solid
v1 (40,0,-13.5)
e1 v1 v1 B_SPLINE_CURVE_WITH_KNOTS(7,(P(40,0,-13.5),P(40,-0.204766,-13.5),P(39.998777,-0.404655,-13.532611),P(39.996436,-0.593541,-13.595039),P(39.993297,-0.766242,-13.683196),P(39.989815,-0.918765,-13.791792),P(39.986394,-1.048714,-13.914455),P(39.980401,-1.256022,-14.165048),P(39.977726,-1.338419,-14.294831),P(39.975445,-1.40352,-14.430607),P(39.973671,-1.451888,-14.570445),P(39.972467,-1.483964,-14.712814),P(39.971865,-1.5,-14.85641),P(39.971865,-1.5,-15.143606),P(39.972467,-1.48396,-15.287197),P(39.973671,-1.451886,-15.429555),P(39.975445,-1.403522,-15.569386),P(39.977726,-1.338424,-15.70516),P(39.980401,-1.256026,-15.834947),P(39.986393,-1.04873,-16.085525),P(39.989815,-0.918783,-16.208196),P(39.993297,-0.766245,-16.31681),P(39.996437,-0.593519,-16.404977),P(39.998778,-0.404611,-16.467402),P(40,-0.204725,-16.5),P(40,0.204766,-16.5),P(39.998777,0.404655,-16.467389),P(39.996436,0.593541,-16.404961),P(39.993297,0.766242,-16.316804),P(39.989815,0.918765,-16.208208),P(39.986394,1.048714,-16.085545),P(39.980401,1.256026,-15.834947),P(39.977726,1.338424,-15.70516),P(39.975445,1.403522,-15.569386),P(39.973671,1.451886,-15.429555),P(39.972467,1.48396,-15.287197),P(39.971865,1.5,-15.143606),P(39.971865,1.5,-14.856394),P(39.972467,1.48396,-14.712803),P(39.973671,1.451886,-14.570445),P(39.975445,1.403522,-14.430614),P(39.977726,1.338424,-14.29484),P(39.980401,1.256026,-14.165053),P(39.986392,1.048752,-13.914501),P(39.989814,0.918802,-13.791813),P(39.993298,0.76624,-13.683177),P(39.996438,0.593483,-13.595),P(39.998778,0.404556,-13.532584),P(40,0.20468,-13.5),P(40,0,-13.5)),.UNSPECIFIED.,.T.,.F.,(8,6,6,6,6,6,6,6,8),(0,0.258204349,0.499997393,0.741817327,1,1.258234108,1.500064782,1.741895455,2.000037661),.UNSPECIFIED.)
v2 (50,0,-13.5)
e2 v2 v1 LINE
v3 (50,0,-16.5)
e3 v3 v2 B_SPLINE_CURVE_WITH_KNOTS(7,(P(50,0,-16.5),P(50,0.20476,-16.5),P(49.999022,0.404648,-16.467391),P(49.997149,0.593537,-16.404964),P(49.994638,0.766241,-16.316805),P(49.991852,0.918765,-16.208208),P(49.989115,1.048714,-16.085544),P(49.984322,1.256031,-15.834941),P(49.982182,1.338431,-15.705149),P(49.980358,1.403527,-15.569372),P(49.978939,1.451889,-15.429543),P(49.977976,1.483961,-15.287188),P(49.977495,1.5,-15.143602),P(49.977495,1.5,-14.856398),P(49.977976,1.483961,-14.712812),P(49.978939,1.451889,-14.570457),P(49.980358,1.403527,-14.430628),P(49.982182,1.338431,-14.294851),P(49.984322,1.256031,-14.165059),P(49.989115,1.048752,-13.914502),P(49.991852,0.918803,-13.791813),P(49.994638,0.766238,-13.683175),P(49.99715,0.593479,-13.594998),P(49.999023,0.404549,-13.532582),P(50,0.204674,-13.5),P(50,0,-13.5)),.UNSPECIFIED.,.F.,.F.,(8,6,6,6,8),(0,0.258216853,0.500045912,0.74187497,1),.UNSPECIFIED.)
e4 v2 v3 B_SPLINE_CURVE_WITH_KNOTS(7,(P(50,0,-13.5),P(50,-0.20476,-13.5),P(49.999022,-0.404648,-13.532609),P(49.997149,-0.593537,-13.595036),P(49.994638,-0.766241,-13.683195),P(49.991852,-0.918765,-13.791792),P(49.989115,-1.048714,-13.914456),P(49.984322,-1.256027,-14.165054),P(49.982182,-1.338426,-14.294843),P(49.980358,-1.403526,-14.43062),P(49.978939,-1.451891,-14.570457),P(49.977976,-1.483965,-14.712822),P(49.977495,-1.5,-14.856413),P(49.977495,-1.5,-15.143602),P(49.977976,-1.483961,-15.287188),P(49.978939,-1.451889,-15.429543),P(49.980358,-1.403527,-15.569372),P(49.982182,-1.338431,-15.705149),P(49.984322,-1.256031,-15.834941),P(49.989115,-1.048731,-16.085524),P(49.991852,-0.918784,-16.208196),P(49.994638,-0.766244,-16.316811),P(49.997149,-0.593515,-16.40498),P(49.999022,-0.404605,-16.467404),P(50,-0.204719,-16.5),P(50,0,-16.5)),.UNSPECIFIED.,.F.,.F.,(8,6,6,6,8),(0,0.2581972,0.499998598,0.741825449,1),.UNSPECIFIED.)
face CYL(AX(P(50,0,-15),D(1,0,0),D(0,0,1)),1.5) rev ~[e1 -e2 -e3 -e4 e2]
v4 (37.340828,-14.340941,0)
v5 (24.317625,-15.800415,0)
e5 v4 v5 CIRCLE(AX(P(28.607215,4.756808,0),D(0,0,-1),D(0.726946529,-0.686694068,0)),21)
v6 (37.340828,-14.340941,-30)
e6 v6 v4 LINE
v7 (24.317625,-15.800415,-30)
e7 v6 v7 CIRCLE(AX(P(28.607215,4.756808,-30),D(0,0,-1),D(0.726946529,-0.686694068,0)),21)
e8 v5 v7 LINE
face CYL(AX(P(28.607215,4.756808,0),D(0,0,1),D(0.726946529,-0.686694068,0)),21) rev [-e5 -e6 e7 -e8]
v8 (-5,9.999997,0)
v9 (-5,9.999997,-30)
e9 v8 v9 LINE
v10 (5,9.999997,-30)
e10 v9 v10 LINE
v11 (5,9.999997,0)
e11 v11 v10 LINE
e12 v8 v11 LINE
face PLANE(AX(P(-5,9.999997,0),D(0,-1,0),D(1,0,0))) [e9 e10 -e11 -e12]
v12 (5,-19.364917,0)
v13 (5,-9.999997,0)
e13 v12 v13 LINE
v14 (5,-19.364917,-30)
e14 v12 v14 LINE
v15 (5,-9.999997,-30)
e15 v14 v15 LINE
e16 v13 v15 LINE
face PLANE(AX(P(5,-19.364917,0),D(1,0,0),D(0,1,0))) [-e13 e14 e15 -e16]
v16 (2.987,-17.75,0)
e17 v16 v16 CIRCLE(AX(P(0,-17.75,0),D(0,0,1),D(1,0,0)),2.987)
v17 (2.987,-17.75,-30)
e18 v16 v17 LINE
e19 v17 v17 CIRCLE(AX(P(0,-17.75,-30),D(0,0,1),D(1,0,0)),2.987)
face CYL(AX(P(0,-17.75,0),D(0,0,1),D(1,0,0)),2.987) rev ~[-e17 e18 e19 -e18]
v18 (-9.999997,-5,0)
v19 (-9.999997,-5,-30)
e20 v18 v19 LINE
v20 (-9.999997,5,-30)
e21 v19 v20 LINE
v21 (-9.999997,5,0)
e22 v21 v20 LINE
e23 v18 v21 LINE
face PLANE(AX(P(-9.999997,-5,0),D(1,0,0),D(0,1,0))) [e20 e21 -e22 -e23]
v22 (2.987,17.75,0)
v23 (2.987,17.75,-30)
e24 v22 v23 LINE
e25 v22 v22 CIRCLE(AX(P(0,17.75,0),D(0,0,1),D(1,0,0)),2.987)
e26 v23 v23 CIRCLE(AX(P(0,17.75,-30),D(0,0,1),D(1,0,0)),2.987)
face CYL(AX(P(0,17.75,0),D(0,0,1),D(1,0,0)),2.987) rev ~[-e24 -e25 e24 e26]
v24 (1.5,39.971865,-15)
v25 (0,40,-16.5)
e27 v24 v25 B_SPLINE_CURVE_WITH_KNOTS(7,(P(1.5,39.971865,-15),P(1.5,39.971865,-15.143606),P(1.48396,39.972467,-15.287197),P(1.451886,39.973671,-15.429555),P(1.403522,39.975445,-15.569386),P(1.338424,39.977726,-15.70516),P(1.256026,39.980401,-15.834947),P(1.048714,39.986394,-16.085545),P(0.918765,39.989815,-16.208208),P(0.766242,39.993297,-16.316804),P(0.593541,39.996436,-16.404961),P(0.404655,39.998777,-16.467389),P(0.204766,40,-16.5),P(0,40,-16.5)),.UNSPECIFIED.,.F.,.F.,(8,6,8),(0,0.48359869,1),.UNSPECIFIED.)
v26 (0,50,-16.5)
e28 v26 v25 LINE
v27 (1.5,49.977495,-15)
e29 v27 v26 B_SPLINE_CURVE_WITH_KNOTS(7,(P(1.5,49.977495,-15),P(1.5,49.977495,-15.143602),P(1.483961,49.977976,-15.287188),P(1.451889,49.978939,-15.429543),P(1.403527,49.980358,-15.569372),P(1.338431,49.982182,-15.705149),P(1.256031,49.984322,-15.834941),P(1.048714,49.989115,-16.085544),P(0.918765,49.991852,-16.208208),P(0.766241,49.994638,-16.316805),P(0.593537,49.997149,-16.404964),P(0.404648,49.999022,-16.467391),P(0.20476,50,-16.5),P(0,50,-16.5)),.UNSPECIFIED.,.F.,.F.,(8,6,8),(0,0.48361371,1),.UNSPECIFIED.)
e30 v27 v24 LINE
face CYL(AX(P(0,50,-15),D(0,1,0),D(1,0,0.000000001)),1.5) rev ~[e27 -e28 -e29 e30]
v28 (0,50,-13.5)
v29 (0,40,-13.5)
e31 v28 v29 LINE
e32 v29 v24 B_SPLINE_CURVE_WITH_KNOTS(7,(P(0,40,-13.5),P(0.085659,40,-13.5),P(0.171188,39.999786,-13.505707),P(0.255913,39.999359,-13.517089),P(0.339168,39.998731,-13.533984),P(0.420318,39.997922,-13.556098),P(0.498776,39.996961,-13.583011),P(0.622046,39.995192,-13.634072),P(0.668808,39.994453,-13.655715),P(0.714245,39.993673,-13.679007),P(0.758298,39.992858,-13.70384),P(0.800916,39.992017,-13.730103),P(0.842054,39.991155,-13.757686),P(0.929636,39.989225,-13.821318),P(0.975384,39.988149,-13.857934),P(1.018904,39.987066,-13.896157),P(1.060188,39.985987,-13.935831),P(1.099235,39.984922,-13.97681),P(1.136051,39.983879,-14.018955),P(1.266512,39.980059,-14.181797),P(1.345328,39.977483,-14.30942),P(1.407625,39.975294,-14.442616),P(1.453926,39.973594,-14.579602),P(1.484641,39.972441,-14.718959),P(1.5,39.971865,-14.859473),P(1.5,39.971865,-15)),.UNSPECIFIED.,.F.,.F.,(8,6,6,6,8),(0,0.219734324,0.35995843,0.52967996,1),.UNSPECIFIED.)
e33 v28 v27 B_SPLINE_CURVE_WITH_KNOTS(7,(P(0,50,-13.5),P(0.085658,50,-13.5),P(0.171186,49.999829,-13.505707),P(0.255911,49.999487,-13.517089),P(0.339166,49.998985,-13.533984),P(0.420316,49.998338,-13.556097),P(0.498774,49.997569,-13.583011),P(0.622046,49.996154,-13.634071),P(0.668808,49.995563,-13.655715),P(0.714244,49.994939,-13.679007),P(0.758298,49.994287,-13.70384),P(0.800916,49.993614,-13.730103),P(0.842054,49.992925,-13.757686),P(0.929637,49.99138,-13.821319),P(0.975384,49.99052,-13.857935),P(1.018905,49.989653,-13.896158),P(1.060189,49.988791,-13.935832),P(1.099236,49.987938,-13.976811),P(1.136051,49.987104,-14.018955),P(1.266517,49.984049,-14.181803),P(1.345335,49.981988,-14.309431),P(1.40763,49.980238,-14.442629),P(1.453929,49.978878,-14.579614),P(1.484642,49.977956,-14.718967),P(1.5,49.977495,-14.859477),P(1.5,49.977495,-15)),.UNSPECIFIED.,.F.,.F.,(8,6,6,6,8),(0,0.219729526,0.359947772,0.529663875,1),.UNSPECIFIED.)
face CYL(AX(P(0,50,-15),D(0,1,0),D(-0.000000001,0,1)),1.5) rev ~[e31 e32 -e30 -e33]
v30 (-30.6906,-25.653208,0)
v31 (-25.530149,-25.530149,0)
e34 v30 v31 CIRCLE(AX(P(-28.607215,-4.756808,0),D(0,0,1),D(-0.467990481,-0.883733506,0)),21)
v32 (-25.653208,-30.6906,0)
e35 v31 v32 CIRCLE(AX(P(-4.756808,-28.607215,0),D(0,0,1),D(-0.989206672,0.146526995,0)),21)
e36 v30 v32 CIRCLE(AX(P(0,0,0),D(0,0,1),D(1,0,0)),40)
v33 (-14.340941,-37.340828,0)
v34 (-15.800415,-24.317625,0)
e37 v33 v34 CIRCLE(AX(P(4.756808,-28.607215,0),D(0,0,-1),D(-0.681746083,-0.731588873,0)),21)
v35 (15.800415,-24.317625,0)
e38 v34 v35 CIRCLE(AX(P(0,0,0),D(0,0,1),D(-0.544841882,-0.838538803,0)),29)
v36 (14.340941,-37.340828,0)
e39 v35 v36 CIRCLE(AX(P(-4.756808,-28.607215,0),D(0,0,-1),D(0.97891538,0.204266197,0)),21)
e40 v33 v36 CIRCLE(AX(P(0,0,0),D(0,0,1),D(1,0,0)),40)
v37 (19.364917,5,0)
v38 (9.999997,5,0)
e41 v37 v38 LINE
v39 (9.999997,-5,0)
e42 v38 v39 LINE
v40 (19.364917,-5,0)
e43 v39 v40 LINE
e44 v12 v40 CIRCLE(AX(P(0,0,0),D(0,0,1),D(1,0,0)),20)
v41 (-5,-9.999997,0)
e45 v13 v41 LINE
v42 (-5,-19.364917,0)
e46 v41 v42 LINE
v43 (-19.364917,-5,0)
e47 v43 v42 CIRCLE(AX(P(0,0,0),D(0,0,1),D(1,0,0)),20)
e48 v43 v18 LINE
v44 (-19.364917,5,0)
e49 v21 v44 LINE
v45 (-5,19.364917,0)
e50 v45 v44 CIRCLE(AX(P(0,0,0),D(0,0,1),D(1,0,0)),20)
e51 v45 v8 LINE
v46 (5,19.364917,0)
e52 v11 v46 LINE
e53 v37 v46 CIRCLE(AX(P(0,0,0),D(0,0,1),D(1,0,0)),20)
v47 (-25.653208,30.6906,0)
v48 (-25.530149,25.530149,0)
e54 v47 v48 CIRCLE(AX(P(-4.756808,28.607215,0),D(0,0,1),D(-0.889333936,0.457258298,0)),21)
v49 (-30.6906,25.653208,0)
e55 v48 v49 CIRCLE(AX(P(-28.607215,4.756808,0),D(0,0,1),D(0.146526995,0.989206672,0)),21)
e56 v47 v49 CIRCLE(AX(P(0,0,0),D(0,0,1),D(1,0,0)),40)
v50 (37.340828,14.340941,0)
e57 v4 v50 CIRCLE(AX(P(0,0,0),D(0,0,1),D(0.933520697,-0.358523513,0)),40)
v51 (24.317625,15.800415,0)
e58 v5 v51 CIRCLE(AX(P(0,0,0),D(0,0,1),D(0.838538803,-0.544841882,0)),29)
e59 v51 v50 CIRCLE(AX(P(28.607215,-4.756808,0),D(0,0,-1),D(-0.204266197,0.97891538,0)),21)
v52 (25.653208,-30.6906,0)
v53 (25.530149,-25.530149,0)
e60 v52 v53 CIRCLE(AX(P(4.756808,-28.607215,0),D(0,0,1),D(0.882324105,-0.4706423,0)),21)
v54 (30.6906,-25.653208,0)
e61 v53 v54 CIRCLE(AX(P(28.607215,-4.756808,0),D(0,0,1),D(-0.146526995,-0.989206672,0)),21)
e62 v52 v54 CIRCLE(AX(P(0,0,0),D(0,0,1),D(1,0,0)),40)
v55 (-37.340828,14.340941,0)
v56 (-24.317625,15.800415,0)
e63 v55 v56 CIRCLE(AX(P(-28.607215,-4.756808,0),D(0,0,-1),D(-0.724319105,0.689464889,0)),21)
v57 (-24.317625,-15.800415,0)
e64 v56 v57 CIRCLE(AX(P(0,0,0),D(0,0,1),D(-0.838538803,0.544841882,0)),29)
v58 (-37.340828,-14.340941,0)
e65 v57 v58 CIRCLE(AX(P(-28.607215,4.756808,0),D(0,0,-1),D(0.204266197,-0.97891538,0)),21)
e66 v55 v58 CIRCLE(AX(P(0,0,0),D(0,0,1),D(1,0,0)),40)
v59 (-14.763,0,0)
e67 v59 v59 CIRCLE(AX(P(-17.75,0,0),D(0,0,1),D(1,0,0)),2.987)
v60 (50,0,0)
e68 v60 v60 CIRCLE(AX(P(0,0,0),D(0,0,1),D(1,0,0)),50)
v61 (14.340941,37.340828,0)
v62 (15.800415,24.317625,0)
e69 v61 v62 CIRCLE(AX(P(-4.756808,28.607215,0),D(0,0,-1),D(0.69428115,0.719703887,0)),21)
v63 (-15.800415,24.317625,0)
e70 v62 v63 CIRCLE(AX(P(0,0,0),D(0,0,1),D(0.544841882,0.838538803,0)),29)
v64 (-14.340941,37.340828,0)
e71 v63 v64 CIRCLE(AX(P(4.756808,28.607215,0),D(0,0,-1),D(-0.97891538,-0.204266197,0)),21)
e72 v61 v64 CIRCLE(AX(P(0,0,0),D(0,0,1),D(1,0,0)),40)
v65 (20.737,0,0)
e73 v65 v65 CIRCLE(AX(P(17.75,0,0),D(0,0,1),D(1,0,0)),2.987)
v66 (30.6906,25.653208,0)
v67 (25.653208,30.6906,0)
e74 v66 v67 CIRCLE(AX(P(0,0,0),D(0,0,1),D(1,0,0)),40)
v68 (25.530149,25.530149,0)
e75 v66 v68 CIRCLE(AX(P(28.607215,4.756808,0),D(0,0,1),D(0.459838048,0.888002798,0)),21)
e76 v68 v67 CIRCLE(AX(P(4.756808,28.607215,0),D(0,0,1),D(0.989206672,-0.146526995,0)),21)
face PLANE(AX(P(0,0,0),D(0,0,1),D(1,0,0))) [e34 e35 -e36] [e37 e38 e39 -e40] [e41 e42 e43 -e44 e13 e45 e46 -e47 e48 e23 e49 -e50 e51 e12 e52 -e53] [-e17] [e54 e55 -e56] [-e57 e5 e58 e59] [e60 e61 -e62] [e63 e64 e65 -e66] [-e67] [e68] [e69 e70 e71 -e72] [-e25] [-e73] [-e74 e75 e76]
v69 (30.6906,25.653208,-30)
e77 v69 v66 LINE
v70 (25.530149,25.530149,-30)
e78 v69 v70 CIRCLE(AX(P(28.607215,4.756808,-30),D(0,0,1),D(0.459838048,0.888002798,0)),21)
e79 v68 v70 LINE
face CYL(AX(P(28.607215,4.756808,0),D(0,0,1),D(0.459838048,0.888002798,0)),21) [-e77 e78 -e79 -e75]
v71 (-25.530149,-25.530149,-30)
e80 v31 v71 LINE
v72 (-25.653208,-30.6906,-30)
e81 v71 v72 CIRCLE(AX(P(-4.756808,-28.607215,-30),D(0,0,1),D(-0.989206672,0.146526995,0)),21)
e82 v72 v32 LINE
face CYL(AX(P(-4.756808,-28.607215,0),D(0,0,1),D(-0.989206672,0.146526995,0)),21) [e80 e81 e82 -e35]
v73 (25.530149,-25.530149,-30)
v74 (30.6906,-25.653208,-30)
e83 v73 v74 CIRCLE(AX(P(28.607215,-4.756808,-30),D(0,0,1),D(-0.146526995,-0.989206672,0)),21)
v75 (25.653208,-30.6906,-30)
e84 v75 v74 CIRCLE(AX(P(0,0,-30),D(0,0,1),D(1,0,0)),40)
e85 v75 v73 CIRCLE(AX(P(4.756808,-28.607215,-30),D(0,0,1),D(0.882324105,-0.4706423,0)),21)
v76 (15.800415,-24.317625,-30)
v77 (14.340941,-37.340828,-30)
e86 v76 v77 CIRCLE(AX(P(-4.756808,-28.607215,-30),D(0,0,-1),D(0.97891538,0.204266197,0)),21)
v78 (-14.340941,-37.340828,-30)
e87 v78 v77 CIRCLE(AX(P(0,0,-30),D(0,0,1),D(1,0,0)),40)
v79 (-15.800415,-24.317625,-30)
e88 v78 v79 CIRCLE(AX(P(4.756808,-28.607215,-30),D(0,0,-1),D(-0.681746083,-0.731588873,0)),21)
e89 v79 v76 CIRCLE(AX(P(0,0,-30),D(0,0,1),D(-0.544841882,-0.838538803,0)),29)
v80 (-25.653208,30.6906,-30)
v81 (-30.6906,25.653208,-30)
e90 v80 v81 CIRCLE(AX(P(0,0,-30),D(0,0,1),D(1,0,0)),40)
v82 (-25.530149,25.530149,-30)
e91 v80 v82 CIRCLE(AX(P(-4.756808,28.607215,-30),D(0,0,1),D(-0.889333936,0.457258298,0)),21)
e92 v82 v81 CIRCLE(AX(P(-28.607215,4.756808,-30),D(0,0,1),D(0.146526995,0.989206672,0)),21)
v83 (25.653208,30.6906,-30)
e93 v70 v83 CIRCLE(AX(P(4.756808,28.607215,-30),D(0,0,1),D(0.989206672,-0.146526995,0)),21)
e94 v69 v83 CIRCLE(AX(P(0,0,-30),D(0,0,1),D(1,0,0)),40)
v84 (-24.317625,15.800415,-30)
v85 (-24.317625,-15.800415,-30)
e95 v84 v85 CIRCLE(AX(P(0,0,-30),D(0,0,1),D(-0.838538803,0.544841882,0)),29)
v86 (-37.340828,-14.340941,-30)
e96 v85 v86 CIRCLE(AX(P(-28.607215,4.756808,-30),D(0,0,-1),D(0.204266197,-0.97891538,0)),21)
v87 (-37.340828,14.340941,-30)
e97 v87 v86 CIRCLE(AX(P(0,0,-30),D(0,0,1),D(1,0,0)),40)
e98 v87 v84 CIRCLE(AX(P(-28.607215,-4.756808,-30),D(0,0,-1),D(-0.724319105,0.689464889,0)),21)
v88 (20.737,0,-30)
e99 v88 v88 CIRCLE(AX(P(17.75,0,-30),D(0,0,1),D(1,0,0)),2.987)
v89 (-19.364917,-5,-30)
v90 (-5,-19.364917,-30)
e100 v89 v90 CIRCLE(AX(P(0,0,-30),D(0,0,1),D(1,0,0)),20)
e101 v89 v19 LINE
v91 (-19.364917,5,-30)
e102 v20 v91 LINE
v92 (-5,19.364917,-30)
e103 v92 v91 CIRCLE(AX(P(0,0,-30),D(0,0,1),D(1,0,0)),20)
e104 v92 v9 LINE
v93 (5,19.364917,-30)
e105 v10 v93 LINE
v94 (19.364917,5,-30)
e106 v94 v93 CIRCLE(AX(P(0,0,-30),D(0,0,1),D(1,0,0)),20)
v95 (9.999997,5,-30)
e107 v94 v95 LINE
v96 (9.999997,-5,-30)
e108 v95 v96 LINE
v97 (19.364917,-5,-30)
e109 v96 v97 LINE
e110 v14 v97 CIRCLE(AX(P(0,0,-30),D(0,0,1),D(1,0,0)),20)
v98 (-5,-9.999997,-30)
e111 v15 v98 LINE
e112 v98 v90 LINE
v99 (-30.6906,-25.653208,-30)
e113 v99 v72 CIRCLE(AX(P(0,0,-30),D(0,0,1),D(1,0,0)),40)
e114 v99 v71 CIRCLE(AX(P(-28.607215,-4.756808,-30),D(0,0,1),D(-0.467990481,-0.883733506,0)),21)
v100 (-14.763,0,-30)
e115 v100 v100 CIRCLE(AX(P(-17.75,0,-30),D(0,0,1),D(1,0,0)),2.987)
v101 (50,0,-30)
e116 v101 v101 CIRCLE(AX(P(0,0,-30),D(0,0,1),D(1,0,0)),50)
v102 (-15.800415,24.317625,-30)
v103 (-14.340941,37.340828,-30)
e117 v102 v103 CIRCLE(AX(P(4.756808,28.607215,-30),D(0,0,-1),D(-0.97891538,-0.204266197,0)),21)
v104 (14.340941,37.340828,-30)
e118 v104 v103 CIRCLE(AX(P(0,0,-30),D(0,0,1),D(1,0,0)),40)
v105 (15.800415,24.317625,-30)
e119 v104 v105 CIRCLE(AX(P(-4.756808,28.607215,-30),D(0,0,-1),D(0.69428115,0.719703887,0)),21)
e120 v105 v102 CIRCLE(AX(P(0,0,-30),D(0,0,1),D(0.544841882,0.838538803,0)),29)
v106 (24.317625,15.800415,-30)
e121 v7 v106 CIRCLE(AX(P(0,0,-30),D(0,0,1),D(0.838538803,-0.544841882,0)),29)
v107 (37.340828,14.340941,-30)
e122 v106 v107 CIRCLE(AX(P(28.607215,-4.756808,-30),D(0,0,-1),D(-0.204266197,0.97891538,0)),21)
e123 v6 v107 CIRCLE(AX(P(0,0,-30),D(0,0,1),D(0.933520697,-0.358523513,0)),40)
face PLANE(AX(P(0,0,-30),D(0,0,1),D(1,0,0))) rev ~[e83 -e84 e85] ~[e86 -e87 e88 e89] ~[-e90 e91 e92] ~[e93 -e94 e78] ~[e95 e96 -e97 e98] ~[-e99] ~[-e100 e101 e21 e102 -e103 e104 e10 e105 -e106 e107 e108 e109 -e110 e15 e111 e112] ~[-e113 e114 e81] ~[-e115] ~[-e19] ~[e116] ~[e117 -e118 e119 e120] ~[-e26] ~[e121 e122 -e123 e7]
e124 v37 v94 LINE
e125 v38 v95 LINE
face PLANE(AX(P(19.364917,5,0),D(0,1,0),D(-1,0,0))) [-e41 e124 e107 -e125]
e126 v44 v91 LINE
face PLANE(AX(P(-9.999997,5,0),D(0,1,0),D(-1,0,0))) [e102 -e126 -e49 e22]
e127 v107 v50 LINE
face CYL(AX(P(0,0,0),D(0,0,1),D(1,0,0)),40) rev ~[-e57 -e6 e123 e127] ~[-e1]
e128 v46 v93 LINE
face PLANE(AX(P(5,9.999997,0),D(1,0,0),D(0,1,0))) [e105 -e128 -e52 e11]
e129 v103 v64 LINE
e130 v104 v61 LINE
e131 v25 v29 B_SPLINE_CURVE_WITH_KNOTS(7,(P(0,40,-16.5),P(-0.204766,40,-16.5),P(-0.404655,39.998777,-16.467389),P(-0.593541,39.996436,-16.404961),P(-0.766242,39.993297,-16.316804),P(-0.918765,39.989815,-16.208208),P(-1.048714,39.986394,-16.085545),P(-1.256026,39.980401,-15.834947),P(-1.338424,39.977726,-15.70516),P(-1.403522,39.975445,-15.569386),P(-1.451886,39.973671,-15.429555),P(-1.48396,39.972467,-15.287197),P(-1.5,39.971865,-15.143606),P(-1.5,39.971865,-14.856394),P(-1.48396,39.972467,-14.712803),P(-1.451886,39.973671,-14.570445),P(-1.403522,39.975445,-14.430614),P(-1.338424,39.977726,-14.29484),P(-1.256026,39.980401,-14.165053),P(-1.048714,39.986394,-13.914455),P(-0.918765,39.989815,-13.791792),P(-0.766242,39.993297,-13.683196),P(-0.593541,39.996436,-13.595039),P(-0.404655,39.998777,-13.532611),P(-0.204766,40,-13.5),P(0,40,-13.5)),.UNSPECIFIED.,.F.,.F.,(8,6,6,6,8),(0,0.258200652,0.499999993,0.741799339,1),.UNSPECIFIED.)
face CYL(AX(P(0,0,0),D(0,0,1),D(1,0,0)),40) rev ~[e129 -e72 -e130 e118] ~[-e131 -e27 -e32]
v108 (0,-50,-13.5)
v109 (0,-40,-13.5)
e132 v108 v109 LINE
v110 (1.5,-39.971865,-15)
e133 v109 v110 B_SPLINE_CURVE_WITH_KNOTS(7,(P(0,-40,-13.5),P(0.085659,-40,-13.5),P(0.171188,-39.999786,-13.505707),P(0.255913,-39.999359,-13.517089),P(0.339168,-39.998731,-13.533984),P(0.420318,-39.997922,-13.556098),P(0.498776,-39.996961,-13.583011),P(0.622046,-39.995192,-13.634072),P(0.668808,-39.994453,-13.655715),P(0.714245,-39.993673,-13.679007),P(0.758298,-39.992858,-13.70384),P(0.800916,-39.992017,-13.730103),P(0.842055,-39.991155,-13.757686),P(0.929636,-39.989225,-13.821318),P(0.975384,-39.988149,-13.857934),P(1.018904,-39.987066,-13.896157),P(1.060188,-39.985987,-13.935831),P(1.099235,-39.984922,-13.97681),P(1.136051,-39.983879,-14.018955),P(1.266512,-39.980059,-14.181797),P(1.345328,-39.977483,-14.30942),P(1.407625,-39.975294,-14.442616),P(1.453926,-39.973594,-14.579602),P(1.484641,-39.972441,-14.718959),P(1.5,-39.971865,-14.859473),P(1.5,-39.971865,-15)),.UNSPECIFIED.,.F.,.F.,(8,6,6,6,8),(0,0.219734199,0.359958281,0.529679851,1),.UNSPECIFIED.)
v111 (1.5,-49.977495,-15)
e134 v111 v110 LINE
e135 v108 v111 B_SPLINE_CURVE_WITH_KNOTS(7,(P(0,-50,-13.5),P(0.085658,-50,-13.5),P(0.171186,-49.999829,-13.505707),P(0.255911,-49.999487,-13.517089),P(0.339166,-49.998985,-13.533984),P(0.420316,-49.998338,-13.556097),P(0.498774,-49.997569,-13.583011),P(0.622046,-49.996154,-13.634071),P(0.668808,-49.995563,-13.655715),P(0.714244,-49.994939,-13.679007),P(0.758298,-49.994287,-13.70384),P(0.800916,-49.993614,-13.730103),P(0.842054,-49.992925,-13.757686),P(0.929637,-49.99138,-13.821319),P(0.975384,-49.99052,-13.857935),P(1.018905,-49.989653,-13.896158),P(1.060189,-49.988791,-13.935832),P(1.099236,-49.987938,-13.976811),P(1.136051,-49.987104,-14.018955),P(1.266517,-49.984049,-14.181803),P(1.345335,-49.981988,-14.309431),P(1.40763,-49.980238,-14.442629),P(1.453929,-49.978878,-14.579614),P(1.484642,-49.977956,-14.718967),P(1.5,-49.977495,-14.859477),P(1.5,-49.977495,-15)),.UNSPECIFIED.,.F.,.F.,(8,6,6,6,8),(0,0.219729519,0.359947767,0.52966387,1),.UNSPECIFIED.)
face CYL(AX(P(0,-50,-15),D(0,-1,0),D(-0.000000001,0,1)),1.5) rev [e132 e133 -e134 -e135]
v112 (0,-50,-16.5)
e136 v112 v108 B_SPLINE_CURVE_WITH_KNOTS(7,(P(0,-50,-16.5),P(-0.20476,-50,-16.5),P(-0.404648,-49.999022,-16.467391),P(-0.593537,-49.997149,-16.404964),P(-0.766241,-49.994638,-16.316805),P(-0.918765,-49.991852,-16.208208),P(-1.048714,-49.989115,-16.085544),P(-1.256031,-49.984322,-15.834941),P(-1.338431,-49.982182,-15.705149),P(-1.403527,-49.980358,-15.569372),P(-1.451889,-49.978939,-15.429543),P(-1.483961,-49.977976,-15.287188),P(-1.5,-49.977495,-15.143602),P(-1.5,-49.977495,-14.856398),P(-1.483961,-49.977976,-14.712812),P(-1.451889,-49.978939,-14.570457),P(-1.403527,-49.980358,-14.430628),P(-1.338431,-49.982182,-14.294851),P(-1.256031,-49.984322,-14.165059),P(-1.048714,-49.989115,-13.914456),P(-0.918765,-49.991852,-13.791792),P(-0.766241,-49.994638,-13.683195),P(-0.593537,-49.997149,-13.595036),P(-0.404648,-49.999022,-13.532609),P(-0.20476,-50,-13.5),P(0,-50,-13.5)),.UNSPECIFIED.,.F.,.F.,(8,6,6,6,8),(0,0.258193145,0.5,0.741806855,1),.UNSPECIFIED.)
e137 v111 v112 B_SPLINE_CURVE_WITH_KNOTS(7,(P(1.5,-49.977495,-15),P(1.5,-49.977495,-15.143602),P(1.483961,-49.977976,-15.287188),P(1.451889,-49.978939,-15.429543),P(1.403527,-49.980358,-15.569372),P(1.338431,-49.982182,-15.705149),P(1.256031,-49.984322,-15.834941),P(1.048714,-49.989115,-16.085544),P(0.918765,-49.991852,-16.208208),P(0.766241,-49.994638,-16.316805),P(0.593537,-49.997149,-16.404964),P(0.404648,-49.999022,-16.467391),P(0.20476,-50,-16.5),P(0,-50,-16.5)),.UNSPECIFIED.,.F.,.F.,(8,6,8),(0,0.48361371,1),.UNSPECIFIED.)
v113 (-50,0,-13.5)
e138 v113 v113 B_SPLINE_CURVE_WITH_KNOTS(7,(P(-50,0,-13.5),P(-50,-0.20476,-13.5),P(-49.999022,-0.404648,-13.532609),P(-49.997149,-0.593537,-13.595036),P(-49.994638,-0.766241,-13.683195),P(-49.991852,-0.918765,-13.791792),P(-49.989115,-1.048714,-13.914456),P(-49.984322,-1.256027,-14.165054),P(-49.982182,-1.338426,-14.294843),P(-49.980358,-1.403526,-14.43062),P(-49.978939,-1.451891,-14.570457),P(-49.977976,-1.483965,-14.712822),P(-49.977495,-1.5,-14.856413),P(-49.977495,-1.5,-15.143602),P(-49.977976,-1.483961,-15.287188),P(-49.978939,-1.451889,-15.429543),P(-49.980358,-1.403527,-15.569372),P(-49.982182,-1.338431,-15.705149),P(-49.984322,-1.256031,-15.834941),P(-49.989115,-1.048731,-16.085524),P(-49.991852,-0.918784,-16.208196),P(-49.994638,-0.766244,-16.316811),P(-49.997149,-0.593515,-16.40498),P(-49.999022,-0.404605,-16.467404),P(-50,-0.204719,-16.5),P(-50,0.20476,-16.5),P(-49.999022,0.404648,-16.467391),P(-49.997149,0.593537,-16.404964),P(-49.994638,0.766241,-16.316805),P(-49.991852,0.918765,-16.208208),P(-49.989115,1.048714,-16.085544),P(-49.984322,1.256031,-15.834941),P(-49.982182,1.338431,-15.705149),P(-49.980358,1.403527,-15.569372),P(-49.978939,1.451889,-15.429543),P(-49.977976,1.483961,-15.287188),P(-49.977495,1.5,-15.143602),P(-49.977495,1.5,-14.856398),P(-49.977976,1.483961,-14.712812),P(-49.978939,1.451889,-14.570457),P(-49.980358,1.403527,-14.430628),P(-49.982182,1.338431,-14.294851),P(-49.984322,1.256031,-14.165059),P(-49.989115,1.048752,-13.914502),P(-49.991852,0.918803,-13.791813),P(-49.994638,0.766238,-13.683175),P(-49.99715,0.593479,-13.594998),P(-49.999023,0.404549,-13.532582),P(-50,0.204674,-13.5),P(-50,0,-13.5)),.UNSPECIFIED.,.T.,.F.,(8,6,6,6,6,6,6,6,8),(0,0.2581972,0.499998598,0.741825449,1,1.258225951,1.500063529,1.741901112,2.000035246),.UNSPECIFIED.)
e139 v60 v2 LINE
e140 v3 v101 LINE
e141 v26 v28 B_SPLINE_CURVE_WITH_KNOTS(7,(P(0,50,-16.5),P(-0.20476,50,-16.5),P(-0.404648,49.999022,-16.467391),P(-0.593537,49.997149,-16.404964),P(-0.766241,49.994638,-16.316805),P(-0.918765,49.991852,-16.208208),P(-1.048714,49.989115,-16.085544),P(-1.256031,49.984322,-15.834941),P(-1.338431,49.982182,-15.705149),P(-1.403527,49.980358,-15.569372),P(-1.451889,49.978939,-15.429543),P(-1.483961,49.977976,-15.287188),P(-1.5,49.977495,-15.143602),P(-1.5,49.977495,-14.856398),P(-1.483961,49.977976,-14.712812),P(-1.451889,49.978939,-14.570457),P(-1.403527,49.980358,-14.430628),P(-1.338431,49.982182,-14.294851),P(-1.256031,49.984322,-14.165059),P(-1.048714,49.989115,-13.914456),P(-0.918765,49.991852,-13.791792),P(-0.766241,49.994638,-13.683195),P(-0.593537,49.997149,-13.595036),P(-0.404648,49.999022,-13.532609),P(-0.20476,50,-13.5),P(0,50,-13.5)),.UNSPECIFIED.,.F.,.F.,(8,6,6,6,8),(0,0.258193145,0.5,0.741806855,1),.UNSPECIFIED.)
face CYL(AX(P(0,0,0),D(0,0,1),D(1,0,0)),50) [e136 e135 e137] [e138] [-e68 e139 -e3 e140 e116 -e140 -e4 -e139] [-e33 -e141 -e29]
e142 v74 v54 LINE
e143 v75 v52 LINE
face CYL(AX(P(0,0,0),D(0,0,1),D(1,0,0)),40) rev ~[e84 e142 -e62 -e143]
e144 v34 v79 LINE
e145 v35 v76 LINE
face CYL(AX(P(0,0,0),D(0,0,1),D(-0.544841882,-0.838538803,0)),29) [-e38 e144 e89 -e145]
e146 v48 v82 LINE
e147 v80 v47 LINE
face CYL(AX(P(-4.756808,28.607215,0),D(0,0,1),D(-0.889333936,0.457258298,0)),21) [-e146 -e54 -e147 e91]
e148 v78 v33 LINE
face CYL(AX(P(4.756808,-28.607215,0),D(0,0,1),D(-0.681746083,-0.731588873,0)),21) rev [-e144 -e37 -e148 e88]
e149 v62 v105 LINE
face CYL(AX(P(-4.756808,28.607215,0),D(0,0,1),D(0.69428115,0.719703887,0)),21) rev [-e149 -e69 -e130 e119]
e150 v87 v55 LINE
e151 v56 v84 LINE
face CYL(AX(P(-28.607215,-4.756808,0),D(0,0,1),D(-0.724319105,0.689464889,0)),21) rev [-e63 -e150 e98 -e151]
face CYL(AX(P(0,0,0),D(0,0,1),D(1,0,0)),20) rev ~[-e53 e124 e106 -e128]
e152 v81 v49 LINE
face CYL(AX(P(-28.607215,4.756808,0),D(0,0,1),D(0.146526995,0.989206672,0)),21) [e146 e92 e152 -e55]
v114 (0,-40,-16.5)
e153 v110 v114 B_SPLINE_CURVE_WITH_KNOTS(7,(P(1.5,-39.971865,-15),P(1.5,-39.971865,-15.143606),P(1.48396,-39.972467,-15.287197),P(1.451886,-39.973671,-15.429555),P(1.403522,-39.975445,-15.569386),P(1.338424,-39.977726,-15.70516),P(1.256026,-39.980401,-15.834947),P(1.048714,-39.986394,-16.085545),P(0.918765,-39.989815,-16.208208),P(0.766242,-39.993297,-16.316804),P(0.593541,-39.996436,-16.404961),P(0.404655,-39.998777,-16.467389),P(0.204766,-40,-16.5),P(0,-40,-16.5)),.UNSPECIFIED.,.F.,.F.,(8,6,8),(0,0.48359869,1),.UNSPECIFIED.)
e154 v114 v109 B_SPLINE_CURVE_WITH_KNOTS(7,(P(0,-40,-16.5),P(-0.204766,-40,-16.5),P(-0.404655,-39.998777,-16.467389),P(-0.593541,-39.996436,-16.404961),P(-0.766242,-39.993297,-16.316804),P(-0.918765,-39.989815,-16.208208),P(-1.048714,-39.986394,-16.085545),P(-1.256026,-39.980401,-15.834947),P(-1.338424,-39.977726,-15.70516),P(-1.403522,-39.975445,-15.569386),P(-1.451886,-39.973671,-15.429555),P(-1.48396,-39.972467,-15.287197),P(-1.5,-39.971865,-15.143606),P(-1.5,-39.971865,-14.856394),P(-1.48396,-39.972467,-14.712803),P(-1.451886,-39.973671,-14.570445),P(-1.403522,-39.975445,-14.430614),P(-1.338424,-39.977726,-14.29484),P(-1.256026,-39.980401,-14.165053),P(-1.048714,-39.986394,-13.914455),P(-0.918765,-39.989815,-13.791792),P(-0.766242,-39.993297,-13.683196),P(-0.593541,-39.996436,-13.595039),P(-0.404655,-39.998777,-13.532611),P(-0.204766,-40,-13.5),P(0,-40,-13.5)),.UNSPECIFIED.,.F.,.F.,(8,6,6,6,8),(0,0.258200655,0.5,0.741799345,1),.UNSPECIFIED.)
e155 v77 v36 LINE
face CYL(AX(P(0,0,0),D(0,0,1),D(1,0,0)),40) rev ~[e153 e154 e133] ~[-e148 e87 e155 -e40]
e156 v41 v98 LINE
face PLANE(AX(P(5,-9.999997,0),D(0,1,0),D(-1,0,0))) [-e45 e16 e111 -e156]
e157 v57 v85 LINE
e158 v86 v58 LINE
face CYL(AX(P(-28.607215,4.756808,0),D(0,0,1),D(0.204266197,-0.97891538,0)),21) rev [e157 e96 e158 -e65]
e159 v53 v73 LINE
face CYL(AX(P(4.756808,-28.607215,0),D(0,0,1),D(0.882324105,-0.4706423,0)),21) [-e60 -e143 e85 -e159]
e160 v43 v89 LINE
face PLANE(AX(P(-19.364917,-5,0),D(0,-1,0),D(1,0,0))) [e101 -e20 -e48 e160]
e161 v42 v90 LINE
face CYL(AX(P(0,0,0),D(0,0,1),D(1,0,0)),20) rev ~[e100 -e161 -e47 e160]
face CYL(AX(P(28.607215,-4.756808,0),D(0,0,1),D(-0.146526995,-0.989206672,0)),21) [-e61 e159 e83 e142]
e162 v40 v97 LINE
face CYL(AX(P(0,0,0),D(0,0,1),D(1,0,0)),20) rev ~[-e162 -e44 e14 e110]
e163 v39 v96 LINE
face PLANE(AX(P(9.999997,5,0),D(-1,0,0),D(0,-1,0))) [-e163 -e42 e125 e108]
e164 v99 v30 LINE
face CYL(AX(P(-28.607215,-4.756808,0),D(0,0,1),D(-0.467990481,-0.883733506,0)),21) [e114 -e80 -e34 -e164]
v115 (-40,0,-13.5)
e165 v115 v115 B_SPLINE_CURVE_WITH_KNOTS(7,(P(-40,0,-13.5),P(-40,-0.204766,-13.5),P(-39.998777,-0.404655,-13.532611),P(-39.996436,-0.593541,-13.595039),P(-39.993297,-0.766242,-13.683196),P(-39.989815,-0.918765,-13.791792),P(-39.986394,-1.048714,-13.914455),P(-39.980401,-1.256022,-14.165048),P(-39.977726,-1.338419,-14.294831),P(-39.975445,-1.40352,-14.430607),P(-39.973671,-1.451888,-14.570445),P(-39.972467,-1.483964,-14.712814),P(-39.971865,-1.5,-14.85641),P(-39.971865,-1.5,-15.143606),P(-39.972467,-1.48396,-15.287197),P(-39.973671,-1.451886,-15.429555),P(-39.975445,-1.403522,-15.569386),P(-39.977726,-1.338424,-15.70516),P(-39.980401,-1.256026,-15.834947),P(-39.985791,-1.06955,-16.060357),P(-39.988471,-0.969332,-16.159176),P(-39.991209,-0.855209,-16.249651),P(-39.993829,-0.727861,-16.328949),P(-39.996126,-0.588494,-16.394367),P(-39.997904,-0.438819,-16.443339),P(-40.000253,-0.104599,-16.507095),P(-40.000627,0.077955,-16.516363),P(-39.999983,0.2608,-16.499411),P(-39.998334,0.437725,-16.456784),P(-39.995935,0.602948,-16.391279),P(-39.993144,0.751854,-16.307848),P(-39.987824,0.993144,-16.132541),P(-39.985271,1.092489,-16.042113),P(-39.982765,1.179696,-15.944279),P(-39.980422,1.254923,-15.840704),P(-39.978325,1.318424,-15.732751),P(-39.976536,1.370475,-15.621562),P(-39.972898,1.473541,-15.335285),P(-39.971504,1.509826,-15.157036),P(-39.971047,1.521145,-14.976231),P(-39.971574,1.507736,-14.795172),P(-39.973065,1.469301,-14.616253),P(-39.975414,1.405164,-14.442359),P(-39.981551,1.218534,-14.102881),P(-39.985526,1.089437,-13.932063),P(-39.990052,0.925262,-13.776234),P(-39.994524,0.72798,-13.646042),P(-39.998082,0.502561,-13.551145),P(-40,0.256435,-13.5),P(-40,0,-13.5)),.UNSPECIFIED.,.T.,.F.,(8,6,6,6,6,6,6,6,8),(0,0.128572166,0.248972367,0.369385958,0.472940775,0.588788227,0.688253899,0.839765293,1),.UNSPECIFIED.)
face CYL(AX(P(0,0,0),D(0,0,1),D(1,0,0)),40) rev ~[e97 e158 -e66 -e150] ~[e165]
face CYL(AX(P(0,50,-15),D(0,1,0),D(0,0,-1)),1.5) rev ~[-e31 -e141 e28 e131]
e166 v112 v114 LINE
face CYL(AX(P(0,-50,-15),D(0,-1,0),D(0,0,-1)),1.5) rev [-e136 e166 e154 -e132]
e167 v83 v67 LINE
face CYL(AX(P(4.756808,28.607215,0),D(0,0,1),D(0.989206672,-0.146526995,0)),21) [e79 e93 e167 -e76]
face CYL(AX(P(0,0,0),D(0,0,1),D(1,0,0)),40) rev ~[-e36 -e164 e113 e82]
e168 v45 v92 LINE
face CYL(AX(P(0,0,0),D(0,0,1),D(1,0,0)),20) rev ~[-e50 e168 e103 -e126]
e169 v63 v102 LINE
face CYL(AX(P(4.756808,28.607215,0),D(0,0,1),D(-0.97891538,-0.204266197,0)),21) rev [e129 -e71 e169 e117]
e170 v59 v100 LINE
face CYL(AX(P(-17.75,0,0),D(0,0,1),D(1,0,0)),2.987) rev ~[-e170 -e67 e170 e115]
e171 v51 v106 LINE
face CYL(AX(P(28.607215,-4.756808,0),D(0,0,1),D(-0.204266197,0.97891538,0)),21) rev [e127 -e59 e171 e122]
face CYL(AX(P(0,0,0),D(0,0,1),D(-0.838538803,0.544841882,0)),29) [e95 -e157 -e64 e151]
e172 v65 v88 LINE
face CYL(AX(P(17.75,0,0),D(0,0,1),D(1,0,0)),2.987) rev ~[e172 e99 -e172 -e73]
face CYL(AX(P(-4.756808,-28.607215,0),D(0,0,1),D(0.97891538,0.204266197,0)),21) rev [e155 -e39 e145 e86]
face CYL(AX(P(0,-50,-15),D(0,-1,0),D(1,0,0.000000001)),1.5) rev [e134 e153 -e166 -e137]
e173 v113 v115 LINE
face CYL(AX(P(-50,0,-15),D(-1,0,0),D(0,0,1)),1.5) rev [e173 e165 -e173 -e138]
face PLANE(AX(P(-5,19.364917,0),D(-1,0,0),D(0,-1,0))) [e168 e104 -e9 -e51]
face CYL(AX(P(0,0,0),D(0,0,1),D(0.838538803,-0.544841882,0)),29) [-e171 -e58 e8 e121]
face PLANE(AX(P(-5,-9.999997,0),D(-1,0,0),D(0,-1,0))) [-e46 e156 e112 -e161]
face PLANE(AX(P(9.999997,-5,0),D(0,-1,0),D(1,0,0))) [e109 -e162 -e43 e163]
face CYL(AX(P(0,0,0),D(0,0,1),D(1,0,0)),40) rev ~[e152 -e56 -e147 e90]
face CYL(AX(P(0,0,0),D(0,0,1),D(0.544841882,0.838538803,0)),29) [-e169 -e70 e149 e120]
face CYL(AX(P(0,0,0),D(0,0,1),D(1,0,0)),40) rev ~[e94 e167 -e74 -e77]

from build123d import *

# Parameters (mm, degrees)
SKETCH6_R                        = 29
SKETCH6_R_2                      = 20
INNER_RING_DEPTH                 = 30
MOTOR_CONNECTOR_CUT_DEPTH        = 30
SKETCH9_R                        = 50
SKETCH9_R_2                      = 29
OUTSIDE_RING_EXTRUSION_DEPTH     = 30
SKETCH12_R                       = 45
SKETCH12_R_2                     = 27.5
CUT_EXTRUDE6_DEPTH               = 38
CUT_EXTRUDE6_DEPTH_BACK          = 56
SKETCH8_R                        = 2.987
MOTOR_CONNECTOR_HOLES_DEPTH      = 27
MOTOR_CONNECTOR_HOLES_DEPTH_BACK = 41
SKETCH10_R                       = 27.404299948
PATTERN_DEPTH                    = 30
SKETCH13_R                       = 45
SKETCH13_R_2                     = 40
BOSS_EXTRUDE1_DEPTH              = 30
CUT_EXTRUDE7_DEPTH               = 13
CUT_EXTRUDE8_DEPTH               = 15
CUT_EXTRUDE9_DEPTH               = 17
CUT_EXTRUDE10_DEPTH              = 17


with BuildPart() as part:
    # Sketch6 → Inner Ring (new body)
    with BuildSketch(Plane.XY):
        Circle(SKETCH6_R)
        Circle(SKETCH6_R_2, mode=Mode.SUBTRACT)
    extrude(amount=-INNER_RING_DEPTH)

    # Sketch7 → Motor Connector Cut (add)
    with BuildSketch(Plane.XY):
        with BuildLine():
            ThreePointArc((20, 0), (19.840593925, 2.52008585), (19.364916731, 5))
            Line((19.364916731, 5), (9.999996731, 5))
            Line((9.999996731, 5), (9.999996731, -5))
            Line((9.999996731, -5), (19.364916731, -5))
            ThreePointArc((19.364916731, -5), (19.840593925, -2.52008585), (20, 0))
        make_face()
        with BuildLine():
            ThreePointArc((5, 19.364916731), (0, 20), (-5, 19.364916731))
            Line((-5, 19.364916731), (-5, 9.999996731))
            Line((-5, 9.999996731), (5, 9.999996731))
            Line((5, 9.999996731), (5, 19.364916731))
        make_face()
        with BuildLine():
            Line((-9.999996731, -5), (-9.999996731, 5))
            Line((-9.999996731, 5), (-19.364916731, 5))
            ThreePointArc((-19.364916731, 5), (-20, 0), (-19.364916731, -5))
            Line((-19.364916731, -5), (-9.999996731, -5))
        make_face()
        with BuildLine():
            Line((-5, -9.999996731), (-5, -19.364916731))
            ThreePointArc((-5, -19.364916731), (0, -20), (5, -19.364916731))
            Line((5, -19.364916731), (5, -9.999996731))
            Line((5, -9.999996731), (-5, -9.999996731))
        make_face()
    extrude(amount=-MOTOR_CONNECTOR_CUT_DEPTH)

    # Sketch9 → Outside Ring Extrusion (add)
    with BuildSketch(Plane.XY):
        Circle(SKETCH9_R)
        Circle(SKETCH9_R_2, mode=Mode.SUBTRACT)
    extrude(amount=-OUTSIDE_RING_EXTRUSION_DEPTH)

    # Sketch12 → Cut-Extrude6 (cut, two sides)
    with BuildSketch(Plane.XY) as cut_extrude6_sk:
        Circle(SKETCH12_R)
        Circle(SKETCH12_R_2, mode=Mode.SUBTRACT)
    extrude(amount=CUT_EXTRUDE6_DEPTH, mode=Mode.SUBTRACT)
    extrude(cut_extrude6_sk.sketch, amount=-CUT_EXTRUDE6_DEPTH_BACK, mode=Mode.SUBTRACT)

    # Sketch8 → Motor Connector Holes (cut, two sides)
    with BuildSketch(Plane.XY) as motor_connector_holes_sk:
        with Locations((0, 17.75)):
            Circle(SKETCH8_R)
        with Locations((17.75, 0)):
            Circle(SKETCH8_R)
        with Locations((0, -17.75)):
            Circle(SKETCH8_R)
        with Locations((-17.75, 0)):
            Circle(SKETCH8_R)
    extrude(amount=MOTOR_CONNECTOR_HOLES_DEPTH, mode=Mode.SUBTRACT)
    extrude(motor_connector_holes_sk.sketch, amount=-MOTOR_CONNECTOR_HOLES_DEPTH_BACK, mode=Mode.SUBTRACT)

    # Sketch10 → Pattern (add)
    with BuildSketch(Plane.XY):
        with BuildLine():
            ThreePointArc((24.317625284, 15.800414568), (34.856582319, 15.291767932), (43.817916626, 9.721954269))
            ThreePointArc((43.817916626, 9.721954269), (41.607188912, 16.793289988), (38.263814419, 23.404867172))
            ThreePointArc((38.263814419, 23.404867172), (32.064348025, 25.470287935), (25.530148518, 25.530148518))
            ThreePointArc((25.530148518, 25.530148518), (25.475284033, 32.034279432), (23.432821057, 38.209639668))
            ThreePointArc((23.432821057, 38.209639668), (20.212556871, 40.002288656), (16.856128399, 41.524812789))
            ThreePointArc((16.856128399, 41.524812789), (13.384732217, 42.767397097), (9.823095744, 43.720997037))
            ThreePointArc((9.823095744, 43.720997037), (15.312499865, 34.789679765), (15.800414568, 24.317625284))
            ThreePointArc((15.800414568, 24.317625284), (0, 29), (-15.800414568, 24.317625284))
            ThreePointArc((-15.800414568, 24.317625284), (-15.312499865, 34.789679765), (-9.823095744, 43.720997037))
            ThreePointArc((-9.823095744, 43.720997037), (-16.854754984, 41.52536899), (-23.432821057, 38.209639668))
            ThreePointArc((-23.432821057, 38.209639668), (-25.475284033, 32.034279432), (-25.530148518, 25.530148518))
            ThreePointArc((-25.530148518, 25.530148518), (-32.064348025, 25.470287935), (-38.263814419, 23.404867172))
            ThreePointArc((-38.263814419, 23.404867172), (-41.607188912, 16.793289988), (-43.817916626, 9.721954269))
            ThreePointArc((-43.817916626, 9.721954269), (-34.856582319, 15.291767932), (-24.317625284, 15.800414568))
            ThreePointArc((-24.317625284, 15.800414568), (-29, 0), (-24.317625284, -15.800414568))
            ThreePointArc((-24.317625284, -15.800414568), (-34.894848495, -15.279799844), (-43.87309253, -9.663767027))
            ThreePointArc((-43.87309253, -9.663767027), (-41.716263612, -16.713446711), (-38.435015504, -23.315212041))
            ThreePointArc((-38.435015504, -23.315212041), (-32.159621016, -25.454161245), (-25.530148518, -25.530148518))
            ThreePointArc((-25.530148518, -25.530148518), (-25.448803812, -32.190695038), (-23.285614603, -38.490703716))
            ThreePointArc((-23.285614603, -38.490703716), (-16.649731385, -41.799208281), (-9.559859326, -43.970581744))
            ThreePointArc((-9.559859326, -43.970581744), (-15.258354287, -34.962784804), (-15.800414568, -24.317625284))
            ThreePointArc((-15.800414568, -24.317625284), (0, -29), (15.800414568, -24.317625284))
            ThreePointArc((15.800414568, -24.317625284), (15.258354287, -34.962784804), (9.559859326, -43.970581744))
            ThreePointArc((9.559859326, -43.970581744), (16.649731385, -41.799208281), (23.285614603, -38.490703716))
            ThreePointArc((23.285614603, -38.490703716), (25.448803812, -32.190695038), (25.530148518, -25.530148518))
            ThreePointArc((25.530148518, -25.530148518), (32.159621016, -25.454161245), (38.435015504, -23.315212041))
            ThreePointArc((38.435015504, -23.315212041), (41.716263612, -16.713446711), (43.87309253, -9.663767027))
            ThreePointArc((43.87309253, -9.663767027), (34.894848495, -15.279799844), (24.317625284, -15.800414568))
            ThreePointArc((24.317625284, -15.800414568), (29, 0), (24.317625284, 15.800414568))
        make_face()
        with Locations((-0.095700052, 0)):
            Circle(SKETCH10_R, mode=Mode.SUBTRACT)
    extrude(amount=-PATTERN_DEPTH)

    # Sketch13 → Boss-Extrude1 (add)
    with BuildSketch(Plane.XY):
        Circle(SKETCH13_R)
        Circle(SKETCH13_R_2, mode=Mode.SUBTRACT)
    extrude(amount=-BOSS_EXTRUDE1_DEPTH)

    # Sketch14 → Cut-Extrude7 (cut)
    with BuildSketch(Plane(origin=(0, 50, 0), x_dir=(1, 0, 0), z_dir=(0, 1, 0))):
        with BuildLine():
            ThreePointArc((0, 16.5), (-1.5, 15), (0, 13.5))
            Line((0, 13.5), (0, 16.5))
        make_face()
        with BuildLine():
            Line((0, 16.5), (0, 13.5))
            ThreePointArc((0, 13.5), (1.060660172, 13.939339828), (1.5, 15))
            ThreePointArc((1.5, 15), (1.060660172, 16.060660172), (0, 16.5))
        make_face()
    extrude(amount=-CUT_EXTRUDE7_DEPTH, mode=Mode.SUBTRACT)

    # Sketch15 → Cut-Extrude8 (cut)
    with BuildSketch(Plane(origin=(0, -50, 0), x_dir=(1, 0, 0), z_dir=(0, 1, 0))):
        with BuildLine():
            ThreePointArc((0, 16.5), (-1.5, 15), (0, 13.5))
            Line((0, 13.5), (0, 16.5))
        make_face()
        with BuildLine():
            Line((0, 16.5), (0, 13.5))
            ThreePointArc((0, 13.5), (1.060660172, 13.939339828), (1.5, 15))
            ThreePointArc((1.5, 15), (1.060660172, 16.060660172), (0, 16.5))
        make_face()
    extrude(amount=CUT_EXTRUDE8_DEPTH, mode=Mode.SUBTRACT)

    # Sketch16 → Cut-Extrude9 (cut)
    with BuildSketch(Plane(origin=(-50, 0, 0), x_dir=(0, 0, -1), z_dir=(1, 0, 0))):
        with BuildLine():
            ThreePointArc((16.5, 0), (15, 1.5), (13.5, 0))
            Line((13.5, 0), (16.5, 0))
        make_face()
        with BuildLine():
            Line((16.5, 0), (13.5, 0))
            ThreePointArc((13.5, 0), (15, -1.5), (16.5, 0))
        make_face()
    extrude(amount=CUT_EXTRUDE9_DEPTH, mode=Mode.SUBTRACT)

    # Sketch17 → Cut-Extrude10 (cut)
    with BuildSketch(Plane(origin=(50, 0, 0), x_dir=(0, 0, -1), z_dir=(1, 0, 0))):
        with BuildLine():
            ThreePointArc((16.5, 0), (15, 1.5), (13.5, 0))
            Line((13.5, 0), (16.5, 0))
        make_face()
        with BuildLine():
            Line((16.5, 0), (13.5, 0))
            ThreePointArc((13.5, 0), (15, -1.5), (16.5, 0))
        make_face()
    extrude(amount=-CUT_EXTRUDE10_DEPTH, mode=Mode.SUBTRACT)


solid = part.part
